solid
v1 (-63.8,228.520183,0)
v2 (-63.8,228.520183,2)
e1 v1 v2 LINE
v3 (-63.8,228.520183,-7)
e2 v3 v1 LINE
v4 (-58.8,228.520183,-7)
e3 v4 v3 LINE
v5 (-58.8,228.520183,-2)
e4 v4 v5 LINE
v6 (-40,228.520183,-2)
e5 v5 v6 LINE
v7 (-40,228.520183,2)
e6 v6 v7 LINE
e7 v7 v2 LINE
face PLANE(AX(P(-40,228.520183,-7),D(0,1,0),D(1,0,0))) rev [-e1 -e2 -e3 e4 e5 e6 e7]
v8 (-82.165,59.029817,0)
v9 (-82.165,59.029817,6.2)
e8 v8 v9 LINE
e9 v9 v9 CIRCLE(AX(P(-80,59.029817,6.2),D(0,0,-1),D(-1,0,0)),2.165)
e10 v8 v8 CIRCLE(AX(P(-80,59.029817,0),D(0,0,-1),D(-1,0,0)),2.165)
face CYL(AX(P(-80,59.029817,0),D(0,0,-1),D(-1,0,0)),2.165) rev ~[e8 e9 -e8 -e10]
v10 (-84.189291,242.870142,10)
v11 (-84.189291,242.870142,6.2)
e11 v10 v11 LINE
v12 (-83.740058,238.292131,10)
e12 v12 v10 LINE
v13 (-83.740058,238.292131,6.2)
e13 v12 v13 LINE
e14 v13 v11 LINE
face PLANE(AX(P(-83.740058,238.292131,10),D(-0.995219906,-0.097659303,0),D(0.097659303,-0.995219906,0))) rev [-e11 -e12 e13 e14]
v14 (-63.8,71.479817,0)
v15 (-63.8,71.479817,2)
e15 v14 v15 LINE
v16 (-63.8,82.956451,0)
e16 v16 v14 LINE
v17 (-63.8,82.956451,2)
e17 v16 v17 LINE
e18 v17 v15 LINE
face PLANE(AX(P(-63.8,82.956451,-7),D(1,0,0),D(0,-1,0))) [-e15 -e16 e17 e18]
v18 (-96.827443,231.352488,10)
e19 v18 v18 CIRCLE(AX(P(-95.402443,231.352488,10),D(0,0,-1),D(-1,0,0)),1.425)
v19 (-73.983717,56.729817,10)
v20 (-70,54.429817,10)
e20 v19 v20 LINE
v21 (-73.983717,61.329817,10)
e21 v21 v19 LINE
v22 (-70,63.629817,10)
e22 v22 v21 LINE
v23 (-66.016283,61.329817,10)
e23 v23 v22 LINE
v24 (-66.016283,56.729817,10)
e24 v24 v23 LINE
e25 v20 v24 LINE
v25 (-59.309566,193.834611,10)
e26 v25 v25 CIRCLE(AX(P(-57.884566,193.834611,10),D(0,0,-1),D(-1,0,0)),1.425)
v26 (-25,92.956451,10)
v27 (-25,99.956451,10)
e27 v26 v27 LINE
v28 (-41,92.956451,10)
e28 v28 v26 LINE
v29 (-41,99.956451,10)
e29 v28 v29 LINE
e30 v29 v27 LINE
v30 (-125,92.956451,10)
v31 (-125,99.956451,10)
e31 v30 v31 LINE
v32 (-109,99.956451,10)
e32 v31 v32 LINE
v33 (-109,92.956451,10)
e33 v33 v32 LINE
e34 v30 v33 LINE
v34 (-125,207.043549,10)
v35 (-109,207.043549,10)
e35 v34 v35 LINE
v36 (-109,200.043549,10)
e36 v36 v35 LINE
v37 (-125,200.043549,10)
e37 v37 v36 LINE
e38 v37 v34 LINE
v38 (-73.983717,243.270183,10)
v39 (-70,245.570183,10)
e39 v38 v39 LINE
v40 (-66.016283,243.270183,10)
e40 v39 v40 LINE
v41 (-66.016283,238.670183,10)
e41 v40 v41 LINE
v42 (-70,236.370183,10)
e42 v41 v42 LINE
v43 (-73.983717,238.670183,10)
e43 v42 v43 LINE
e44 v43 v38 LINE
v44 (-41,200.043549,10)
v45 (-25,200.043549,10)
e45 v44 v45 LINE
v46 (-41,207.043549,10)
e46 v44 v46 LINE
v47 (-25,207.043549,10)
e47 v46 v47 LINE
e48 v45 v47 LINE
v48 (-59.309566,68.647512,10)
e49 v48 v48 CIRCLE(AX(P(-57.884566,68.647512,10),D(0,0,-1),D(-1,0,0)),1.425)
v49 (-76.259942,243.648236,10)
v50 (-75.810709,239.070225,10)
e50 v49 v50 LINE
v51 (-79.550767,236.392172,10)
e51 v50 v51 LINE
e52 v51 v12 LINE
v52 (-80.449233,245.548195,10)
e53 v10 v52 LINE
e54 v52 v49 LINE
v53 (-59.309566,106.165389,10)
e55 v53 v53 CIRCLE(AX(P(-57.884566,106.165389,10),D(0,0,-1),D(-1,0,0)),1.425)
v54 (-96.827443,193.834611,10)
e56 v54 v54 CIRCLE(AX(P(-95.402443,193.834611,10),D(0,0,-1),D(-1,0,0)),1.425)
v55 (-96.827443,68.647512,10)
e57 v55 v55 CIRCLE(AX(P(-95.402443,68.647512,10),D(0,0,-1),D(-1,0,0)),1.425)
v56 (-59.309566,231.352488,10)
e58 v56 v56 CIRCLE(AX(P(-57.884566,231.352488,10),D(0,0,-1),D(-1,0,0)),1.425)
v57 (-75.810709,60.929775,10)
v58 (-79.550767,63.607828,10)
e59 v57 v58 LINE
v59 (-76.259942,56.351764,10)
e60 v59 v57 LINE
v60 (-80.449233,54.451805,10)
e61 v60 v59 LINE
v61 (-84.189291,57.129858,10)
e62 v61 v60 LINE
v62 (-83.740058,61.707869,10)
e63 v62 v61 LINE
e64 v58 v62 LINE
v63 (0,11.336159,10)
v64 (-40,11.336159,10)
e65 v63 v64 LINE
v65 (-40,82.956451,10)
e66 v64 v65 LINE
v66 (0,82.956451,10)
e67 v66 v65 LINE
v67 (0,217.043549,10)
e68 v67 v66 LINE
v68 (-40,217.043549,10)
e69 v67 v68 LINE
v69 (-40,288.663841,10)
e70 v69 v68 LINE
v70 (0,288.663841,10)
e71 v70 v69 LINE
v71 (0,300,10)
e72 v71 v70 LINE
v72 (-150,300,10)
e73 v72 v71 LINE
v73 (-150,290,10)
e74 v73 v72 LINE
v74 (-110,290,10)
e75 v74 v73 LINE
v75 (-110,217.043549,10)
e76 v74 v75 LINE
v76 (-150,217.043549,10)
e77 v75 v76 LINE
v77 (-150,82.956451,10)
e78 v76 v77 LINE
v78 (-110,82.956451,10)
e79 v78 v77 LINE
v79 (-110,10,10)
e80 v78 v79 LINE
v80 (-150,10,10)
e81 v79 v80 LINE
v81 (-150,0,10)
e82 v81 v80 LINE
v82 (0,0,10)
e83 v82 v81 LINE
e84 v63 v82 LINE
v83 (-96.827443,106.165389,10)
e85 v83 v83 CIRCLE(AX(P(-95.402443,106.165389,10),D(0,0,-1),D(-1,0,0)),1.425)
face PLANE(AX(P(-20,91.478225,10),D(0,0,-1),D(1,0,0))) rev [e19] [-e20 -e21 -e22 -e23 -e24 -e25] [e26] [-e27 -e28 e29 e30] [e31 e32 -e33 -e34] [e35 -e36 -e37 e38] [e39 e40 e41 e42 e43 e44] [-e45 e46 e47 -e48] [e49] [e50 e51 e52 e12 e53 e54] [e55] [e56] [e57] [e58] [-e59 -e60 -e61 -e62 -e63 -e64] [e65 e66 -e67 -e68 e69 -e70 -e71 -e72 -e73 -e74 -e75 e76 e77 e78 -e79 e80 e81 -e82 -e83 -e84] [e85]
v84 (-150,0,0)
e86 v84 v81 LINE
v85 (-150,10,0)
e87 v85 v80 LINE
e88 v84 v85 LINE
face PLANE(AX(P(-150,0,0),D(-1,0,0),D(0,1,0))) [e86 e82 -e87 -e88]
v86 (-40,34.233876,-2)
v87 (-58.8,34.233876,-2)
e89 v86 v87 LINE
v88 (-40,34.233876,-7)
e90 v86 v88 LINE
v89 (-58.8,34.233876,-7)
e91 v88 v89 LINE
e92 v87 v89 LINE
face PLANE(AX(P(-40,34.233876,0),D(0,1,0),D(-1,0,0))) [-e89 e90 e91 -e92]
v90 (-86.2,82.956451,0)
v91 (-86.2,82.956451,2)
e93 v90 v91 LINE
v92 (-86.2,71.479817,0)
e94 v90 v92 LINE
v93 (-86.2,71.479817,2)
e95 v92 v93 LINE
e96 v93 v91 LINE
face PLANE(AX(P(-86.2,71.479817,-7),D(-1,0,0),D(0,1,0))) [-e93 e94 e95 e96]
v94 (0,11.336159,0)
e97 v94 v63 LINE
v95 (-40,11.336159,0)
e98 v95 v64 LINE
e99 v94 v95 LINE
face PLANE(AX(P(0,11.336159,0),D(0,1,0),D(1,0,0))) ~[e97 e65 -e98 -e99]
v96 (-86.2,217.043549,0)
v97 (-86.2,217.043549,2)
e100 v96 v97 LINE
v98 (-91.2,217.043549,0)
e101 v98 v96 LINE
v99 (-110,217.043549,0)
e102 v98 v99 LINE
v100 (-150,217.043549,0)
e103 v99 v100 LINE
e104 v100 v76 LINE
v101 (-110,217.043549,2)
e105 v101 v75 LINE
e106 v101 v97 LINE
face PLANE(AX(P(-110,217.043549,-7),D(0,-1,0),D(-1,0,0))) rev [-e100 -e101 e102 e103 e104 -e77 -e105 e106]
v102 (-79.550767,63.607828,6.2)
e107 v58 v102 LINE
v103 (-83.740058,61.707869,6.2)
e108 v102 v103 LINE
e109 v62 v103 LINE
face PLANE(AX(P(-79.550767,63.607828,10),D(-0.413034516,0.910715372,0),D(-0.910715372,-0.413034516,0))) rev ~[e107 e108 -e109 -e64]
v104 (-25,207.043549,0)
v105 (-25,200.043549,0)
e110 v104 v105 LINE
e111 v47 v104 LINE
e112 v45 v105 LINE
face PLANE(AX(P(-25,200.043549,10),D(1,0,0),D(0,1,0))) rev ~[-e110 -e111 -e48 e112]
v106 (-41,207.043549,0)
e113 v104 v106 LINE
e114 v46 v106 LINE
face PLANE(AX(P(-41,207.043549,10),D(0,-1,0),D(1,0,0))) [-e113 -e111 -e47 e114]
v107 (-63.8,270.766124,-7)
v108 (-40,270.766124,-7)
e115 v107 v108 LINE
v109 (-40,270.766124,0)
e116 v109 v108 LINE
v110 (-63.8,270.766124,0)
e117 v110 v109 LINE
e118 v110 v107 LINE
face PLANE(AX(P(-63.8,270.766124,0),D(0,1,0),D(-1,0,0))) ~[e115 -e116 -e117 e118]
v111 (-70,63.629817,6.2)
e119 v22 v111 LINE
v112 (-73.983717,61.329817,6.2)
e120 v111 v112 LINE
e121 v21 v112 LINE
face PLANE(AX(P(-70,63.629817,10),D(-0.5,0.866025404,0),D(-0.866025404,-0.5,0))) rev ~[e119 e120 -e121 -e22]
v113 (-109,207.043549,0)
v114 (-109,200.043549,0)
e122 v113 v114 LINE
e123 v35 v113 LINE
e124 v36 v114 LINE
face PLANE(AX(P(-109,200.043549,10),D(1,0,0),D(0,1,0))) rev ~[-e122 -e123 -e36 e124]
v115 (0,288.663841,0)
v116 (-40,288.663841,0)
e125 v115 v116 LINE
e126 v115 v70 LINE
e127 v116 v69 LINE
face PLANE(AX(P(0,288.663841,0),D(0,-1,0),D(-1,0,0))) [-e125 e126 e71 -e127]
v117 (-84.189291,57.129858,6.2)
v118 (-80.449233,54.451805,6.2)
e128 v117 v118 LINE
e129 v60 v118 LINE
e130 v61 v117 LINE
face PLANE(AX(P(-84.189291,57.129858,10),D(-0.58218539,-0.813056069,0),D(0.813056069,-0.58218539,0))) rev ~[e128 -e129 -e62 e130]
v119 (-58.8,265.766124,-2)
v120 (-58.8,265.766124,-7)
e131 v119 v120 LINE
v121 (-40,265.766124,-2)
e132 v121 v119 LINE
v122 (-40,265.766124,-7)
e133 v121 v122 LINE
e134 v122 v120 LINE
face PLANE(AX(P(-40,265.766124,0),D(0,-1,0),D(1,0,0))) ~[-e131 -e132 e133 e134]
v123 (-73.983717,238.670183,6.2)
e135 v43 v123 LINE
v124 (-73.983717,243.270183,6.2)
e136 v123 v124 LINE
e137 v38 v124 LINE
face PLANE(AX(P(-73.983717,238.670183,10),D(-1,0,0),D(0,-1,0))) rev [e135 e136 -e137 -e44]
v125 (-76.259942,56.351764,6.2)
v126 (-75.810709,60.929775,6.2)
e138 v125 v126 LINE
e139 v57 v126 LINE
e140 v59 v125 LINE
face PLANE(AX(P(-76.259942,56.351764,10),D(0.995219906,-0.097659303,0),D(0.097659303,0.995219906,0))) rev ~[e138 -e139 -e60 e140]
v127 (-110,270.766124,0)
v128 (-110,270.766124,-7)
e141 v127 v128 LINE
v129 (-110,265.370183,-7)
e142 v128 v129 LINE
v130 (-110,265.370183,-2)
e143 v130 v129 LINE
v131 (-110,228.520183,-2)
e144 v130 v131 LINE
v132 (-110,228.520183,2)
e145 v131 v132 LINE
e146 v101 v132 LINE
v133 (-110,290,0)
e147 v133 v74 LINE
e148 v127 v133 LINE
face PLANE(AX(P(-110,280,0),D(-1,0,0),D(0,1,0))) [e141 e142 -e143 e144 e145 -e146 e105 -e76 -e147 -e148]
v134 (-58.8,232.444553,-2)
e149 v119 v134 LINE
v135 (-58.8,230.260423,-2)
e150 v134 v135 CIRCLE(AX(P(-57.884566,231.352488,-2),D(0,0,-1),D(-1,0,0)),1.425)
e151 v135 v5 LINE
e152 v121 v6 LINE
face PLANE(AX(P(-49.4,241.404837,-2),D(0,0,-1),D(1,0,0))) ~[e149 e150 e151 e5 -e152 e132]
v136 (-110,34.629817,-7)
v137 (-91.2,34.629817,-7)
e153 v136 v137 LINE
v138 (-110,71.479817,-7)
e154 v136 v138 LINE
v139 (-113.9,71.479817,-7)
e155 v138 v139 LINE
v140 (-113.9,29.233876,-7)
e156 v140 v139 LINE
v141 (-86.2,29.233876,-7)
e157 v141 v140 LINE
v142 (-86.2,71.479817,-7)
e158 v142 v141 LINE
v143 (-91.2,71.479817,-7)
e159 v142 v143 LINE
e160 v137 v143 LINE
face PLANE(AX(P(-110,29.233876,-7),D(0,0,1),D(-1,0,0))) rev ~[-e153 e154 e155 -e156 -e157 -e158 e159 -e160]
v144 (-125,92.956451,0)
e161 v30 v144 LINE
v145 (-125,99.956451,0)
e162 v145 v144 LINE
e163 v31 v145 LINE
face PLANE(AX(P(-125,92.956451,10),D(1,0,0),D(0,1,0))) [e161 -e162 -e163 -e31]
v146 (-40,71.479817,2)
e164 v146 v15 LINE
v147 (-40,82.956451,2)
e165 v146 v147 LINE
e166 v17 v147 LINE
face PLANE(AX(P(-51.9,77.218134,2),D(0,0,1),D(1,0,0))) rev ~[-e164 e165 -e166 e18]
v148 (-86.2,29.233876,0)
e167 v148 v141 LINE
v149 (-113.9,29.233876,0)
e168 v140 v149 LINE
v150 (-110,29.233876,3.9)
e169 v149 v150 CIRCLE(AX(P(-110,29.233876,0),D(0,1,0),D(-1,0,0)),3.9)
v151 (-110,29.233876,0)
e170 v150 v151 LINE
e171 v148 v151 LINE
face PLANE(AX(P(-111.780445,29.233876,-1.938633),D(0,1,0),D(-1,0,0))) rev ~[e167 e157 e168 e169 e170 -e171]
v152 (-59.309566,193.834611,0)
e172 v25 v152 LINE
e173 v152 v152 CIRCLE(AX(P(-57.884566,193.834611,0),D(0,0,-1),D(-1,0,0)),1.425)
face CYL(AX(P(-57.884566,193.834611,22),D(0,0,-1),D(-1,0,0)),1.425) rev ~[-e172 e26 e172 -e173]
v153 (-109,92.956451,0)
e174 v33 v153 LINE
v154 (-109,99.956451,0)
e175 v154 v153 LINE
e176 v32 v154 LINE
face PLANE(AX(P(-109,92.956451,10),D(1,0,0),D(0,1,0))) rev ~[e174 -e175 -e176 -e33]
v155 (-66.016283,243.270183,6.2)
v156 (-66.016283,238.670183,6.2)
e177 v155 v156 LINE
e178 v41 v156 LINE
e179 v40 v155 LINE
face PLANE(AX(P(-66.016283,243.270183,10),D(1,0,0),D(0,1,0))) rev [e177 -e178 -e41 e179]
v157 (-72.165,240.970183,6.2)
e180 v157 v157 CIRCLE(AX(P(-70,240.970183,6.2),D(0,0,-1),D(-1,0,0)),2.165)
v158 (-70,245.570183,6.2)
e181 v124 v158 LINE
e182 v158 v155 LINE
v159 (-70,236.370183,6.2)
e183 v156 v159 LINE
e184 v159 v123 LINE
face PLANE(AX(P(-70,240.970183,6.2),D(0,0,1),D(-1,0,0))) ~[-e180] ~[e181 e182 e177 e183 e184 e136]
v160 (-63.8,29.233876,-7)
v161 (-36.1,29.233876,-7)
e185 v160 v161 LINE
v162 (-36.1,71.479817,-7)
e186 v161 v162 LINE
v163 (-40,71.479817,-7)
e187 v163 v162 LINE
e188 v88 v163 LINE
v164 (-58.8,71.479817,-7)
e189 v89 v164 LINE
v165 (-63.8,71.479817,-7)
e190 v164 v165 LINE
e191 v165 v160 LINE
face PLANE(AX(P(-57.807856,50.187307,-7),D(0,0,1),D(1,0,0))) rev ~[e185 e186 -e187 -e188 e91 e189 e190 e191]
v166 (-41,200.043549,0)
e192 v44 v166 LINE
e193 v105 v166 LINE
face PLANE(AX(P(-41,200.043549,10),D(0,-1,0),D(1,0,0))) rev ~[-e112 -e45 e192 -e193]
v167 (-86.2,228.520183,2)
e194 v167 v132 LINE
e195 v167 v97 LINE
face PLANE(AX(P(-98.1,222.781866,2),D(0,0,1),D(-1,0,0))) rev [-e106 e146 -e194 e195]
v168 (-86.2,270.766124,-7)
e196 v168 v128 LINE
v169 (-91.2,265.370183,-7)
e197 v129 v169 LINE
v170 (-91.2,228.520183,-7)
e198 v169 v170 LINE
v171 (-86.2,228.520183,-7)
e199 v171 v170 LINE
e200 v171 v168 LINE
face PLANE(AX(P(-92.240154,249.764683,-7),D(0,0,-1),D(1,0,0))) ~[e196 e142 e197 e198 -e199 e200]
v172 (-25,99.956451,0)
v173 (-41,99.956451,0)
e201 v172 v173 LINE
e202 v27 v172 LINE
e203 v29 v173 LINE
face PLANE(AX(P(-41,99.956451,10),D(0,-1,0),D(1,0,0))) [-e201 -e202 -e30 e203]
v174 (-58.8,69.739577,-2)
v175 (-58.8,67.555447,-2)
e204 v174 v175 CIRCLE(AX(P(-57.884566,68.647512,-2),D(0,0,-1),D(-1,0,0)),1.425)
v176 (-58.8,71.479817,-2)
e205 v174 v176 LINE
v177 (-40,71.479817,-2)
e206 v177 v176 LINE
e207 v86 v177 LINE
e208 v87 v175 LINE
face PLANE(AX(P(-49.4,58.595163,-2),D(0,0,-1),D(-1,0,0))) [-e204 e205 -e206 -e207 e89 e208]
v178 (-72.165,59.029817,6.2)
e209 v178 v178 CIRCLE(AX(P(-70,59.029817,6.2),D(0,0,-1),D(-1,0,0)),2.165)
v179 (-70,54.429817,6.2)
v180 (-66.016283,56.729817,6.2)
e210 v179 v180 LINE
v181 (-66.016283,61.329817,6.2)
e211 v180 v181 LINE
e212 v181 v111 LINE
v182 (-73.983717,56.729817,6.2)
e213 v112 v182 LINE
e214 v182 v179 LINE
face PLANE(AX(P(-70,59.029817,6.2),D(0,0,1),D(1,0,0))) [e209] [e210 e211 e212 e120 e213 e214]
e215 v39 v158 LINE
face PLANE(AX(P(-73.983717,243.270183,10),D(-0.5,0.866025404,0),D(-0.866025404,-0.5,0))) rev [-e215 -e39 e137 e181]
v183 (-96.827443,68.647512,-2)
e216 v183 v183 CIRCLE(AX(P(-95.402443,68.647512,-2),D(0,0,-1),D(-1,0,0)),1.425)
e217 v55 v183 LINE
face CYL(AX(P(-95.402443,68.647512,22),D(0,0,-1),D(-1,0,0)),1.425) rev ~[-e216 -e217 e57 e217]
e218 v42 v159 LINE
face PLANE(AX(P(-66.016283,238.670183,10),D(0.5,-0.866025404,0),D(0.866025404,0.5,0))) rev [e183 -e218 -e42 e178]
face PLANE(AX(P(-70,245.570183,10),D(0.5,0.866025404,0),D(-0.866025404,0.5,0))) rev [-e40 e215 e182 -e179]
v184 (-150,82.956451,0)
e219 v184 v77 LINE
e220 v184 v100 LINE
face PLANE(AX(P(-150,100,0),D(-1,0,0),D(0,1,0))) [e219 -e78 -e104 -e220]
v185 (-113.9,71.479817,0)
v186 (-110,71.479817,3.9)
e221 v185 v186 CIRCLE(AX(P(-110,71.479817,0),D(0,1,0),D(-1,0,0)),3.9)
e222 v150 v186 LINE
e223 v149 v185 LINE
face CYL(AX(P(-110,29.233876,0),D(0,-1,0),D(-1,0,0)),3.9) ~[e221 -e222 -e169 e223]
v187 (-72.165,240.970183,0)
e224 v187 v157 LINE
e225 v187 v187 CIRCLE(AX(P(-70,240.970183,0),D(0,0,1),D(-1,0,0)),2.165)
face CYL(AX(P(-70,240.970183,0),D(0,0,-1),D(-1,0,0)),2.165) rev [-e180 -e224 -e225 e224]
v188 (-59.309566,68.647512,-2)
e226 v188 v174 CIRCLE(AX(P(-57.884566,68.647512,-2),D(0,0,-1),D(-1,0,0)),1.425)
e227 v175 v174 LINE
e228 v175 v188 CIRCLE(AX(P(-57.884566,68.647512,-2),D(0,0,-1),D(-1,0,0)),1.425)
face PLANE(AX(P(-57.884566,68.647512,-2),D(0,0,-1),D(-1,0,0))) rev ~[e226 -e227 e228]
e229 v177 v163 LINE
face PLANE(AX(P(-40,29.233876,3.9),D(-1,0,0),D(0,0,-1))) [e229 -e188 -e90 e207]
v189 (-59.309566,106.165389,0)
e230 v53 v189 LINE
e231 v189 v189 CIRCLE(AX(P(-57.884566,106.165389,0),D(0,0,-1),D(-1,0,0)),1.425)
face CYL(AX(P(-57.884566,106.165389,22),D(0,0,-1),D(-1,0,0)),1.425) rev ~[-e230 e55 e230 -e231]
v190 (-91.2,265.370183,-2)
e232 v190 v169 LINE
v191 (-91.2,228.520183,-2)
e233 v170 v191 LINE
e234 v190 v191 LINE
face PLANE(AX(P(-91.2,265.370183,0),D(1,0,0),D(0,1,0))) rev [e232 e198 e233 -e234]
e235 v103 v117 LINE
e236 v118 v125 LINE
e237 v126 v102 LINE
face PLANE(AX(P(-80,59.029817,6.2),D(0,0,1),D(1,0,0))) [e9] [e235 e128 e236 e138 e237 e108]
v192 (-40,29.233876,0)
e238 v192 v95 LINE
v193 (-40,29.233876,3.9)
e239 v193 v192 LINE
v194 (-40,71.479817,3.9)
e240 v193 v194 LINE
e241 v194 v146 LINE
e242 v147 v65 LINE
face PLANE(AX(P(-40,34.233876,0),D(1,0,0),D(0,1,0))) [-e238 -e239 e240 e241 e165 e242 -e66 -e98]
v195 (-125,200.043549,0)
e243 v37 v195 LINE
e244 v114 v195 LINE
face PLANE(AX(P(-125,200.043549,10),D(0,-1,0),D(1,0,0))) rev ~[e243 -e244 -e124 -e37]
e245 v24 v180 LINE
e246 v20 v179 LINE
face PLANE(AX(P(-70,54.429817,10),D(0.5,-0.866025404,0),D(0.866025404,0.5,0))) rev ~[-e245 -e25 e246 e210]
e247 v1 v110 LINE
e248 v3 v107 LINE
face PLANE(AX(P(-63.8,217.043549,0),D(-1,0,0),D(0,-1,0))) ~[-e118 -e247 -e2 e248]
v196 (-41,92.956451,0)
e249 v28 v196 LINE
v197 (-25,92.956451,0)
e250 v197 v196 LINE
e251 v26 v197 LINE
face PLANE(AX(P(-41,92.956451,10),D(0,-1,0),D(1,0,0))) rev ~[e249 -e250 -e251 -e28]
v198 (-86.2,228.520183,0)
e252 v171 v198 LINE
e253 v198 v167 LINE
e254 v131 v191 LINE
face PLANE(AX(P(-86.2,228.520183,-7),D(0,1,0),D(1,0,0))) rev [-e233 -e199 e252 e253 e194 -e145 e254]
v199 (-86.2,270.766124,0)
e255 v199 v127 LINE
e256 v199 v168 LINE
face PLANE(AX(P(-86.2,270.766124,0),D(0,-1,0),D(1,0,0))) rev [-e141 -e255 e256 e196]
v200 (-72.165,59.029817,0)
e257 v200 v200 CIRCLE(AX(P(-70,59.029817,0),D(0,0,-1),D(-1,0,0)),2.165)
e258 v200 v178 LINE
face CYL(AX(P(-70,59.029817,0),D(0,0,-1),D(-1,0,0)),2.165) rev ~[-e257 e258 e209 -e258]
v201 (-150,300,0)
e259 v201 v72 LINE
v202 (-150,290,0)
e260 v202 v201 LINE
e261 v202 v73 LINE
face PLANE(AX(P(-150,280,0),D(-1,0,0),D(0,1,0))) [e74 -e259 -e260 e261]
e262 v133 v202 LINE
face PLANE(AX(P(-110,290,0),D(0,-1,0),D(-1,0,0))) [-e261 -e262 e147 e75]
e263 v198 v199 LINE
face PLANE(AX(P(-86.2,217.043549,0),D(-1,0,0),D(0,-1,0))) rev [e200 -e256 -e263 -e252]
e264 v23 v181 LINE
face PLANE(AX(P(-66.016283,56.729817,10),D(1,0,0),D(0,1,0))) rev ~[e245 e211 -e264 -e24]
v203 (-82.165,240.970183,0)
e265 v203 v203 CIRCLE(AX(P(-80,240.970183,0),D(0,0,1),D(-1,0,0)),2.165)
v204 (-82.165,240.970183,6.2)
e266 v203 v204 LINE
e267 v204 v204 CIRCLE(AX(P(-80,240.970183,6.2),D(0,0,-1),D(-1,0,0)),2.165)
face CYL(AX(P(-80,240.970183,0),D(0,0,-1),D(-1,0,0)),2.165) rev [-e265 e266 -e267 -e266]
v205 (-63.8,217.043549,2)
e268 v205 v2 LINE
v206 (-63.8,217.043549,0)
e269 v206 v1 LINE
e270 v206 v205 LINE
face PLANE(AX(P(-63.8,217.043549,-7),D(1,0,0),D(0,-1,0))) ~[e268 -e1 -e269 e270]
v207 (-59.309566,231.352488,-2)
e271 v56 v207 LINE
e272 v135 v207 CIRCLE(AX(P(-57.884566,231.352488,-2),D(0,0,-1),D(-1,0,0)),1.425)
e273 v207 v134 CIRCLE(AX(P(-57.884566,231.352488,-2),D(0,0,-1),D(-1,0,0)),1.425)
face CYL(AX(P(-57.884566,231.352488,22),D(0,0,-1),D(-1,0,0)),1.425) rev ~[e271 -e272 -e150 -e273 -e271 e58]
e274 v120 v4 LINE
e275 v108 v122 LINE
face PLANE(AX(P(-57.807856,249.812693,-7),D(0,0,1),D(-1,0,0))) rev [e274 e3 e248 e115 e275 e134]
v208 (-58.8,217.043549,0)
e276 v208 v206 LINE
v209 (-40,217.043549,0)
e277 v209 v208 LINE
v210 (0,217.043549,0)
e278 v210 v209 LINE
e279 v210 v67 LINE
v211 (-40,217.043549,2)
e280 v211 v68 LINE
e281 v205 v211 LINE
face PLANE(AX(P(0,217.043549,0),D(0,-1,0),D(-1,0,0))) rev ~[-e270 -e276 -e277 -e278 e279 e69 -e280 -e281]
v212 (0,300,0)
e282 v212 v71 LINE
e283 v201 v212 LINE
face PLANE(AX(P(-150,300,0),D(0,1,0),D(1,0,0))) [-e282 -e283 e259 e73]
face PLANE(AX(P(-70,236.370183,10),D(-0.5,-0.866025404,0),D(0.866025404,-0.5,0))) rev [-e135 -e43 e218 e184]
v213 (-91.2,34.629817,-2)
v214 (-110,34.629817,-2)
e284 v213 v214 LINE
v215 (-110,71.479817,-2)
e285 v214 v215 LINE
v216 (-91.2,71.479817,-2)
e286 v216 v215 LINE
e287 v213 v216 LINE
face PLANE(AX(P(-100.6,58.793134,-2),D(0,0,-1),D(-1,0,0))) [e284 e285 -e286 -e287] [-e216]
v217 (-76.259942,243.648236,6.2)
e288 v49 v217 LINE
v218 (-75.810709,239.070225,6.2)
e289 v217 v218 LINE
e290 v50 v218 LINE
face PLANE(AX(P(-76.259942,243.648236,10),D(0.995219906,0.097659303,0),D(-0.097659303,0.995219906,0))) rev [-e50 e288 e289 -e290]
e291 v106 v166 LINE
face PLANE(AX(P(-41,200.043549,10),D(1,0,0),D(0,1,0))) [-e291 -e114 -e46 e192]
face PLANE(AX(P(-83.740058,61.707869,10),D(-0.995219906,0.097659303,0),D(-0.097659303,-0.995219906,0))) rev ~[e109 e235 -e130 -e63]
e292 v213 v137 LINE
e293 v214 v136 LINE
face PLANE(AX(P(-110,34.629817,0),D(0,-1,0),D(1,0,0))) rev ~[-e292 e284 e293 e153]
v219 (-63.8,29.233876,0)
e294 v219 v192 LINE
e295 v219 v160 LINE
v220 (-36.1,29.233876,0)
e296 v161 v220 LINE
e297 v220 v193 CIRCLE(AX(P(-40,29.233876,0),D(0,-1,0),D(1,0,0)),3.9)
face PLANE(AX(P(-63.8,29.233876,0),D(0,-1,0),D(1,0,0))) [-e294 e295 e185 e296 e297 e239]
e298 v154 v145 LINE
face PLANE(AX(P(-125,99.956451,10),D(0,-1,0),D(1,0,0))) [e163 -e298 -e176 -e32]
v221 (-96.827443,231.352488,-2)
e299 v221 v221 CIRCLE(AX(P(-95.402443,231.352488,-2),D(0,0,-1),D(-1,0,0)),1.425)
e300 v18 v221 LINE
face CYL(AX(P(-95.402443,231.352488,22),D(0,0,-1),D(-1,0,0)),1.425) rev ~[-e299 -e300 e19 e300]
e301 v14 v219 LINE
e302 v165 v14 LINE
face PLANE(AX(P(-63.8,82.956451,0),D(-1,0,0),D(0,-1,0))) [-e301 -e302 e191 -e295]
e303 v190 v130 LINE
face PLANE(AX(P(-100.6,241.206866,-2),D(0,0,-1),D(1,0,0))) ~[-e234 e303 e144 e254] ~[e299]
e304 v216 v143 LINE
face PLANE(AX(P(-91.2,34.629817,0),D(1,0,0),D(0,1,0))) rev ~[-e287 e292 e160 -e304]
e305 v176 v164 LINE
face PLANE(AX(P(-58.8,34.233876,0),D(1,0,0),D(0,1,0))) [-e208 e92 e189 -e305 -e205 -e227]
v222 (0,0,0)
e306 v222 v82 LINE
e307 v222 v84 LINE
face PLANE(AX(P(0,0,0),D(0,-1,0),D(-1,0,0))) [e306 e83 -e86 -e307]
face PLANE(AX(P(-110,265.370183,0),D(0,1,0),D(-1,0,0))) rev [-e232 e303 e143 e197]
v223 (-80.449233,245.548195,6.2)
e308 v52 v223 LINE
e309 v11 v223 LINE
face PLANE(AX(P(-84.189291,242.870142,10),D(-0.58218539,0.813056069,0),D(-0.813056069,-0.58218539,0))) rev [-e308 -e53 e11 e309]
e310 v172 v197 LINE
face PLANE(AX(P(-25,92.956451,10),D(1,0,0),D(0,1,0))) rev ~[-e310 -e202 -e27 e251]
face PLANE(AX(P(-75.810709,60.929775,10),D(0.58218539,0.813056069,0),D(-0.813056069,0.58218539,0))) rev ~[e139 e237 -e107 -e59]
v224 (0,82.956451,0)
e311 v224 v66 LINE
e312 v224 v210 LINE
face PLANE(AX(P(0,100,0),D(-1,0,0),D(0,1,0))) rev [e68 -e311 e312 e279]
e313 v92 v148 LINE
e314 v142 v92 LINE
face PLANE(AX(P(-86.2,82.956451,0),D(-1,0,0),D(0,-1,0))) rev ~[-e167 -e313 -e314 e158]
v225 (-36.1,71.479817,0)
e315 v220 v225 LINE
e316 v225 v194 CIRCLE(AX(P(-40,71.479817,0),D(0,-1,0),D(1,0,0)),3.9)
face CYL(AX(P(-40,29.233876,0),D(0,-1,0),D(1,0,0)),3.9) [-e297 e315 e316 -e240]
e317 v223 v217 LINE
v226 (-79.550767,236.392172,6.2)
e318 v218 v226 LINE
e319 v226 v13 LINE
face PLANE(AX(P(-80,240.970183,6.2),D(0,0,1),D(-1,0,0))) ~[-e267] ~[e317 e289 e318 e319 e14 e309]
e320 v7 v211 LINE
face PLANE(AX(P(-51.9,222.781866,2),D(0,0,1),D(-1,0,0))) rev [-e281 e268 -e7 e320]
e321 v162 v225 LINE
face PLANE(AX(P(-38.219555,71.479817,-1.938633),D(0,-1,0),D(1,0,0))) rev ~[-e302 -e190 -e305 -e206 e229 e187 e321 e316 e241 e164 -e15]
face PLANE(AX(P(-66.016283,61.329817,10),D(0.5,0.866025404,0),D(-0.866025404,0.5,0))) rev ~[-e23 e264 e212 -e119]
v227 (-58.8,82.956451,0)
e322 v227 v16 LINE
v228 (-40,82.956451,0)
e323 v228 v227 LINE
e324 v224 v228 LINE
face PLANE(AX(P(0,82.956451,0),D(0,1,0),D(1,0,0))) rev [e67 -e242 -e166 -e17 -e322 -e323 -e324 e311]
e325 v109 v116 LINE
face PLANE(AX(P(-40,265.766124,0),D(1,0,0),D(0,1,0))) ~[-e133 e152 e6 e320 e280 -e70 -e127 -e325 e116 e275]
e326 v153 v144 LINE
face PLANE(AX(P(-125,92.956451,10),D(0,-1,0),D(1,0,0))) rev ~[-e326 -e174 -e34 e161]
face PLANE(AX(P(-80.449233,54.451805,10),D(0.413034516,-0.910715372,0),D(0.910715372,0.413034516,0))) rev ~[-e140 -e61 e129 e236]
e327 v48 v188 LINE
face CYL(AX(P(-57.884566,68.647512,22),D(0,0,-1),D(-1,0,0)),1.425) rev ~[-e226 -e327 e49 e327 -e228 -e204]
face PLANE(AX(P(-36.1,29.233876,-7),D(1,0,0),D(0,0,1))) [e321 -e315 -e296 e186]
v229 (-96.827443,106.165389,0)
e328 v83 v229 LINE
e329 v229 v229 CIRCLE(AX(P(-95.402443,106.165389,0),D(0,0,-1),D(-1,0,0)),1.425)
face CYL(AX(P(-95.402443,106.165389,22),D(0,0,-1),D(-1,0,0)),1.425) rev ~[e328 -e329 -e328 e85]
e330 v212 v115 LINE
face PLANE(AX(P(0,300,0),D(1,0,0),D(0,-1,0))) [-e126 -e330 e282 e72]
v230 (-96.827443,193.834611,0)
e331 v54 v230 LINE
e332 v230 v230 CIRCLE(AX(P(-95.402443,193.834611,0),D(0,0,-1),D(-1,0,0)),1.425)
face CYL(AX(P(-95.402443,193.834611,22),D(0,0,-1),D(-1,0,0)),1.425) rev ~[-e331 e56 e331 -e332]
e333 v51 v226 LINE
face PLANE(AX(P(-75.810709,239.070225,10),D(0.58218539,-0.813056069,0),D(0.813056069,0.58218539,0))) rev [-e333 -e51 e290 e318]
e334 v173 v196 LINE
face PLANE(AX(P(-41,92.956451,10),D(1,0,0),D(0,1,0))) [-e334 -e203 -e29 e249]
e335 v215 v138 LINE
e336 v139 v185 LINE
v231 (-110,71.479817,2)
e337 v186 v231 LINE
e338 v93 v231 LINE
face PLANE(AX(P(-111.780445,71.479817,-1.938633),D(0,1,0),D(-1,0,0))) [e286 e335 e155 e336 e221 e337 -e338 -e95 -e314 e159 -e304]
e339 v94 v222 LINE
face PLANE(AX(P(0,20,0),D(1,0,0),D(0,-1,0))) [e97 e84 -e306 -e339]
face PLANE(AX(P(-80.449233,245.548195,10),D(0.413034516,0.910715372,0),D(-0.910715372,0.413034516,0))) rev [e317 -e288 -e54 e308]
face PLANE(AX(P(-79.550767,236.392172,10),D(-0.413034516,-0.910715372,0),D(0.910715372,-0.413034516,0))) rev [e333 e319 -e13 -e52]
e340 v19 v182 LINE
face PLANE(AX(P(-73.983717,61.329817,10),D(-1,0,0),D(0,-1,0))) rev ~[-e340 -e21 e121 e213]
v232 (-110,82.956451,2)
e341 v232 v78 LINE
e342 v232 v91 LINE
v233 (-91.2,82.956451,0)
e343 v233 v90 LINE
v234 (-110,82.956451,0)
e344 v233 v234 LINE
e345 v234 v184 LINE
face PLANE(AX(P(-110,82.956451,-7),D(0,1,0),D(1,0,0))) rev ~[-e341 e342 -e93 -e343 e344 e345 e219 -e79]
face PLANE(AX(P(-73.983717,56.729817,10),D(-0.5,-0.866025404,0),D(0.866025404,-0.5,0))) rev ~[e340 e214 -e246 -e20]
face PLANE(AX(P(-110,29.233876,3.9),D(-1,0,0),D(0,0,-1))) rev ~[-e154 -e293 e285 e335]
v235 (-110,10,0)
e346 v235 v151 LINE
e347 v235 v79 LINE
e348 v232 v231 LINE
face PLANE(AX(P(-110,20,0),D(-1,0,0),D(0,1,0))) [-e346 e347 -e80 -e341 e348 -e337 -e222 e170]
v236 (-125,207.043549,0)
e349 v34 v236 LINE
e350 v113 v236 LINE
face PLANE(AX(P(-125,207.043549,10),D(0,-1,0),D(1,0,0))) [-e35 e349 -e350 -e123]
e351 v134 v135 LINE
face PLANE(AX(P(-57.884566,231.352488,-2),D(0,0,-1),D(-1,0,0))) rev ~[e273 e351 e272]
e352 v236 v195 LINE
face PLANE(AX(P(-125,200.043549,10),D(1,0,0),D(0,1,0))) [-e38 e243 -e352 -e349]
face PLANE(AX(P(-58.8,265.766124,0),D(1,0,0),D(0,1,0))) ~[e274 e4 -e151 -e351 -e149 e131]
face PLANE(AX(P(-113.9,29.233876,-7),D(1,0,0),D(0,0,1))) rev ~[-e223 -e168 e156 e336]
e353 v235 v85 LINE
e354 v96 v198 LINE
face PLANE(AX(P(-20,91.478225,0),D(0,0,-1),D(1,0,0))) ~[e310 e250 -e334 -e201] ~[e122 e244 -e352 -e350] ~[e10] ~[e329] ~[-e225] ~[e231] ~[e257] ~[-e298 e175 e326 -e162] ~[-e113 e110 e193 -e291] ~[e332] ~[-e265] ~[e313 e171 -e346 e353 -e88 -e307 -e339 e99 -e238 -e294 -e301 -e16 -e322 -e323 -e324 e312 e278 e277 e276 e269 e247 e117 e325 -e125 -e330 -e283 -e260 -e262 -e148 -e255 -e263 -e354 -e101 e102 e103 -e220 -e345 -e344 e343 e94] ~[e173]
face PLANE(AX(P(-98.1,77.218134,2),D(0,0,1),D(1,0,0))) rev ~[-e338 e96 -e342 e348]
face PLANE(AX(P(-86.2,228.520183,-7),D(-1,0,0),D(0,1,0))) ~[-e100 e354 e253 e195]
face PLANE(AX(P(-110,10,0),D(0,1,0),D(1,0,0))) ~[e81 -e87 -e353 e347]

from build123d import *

# Parameters (mm, degrees)
BOSS_EXTRUDE1_DEPTH       = 10
BOSS_EXTRUDE3_DEPTH       = 7
SKETCH4_W                 = 18.8
SKETCH4_H                 = 48.722574615
SKETCH4_H_2               = 48.326634129
BOSS_EXTRUDE4_DEPTH       = 2
CUT_EXTRUDE2_DEPTH        = 9
SKETCH7_R                 = 2.165
CUT_EXTRUDE3_DEPTH        = 336.559234711
CUT_EXTRUDE4_DEPTH        = 3.8
BOSS_EXTRUDE5_DEPTH       = 42.245940515
SKETCH10_W                = 40
SKETCH10_H                = 8.663840555
SKETCH10_H_2              = 10
CUT_EXTRUDE5_DEPTH        = 336.559234711
SKETCH11_W                = 40
SKETCH11_H                = 17.043549312
BOSS_EXTRUDE6_DEPTH       = 10
CUT_EXTRUDE6_REACH        = 337.841
SKETCH12_W                = 16
SKETCH12_H                = 7
F_1_5MM_DOWEL_HOLE1_D     = 2.85
F_1_5MM_DOWEL_HOLE1_DEPTH = 12


with BuildPart() as part:
    # Sketch2 → Boss-Extrude1 (new body)
    with BuildSketch(Plane.XY):
        Polygon((0, 0), (-150, 0), (-150, 20), (-110, 20), (-110, 100), (-150, 100), (-150, 200), (-110, 200), (-110, 280), (-150, 280), (-150, 300), (0, 300), (0, 280), (-40, 280), (-40, 200), (0, 200), (0, 100), (-40, 100), (-40, 20), (0, 20), align=None)
    extrude(amount=BOSS_EXTRUDE1_DEPTH)

    # Sketch3 → Boss-Extrude3 (add)
    with BuildSketch(Plane(origin=(0, 0, 0), x_dir=(-1, 0, 0), z_dir=(0, 0, -1))):
        Polygon((40, 34.233876073), (58.8, 34.233876073), (58.8, 82.956450688), (63.8, 82.956450688), (63.8, 29.233876073), (40, 29.233876073), align=None)
        Polygon((110, 34.629816559), (91.2, 34.629816559), (91.2, 82.956450688), (86.2, 82.956450688), (86.2, 29.233876073), (110, 29.233876073), align=None)
    boss_extrude3 = extrude(amount=BOSS_EXTRUDE3_DEPTH)

    # Sketch4 → Boss-Extrude4 (add)
    with BuildSketch(Plane(origin=(0, 0, 0), x_dir=(-1, 0, 0), z_dir=(0, 0, -1))):
        with Locations((49.4, 58.595163381)):
            Rectangle(SKETCH4_W, SKETCH4_H)
        with Locations((100.6, 58.793133624)):
            Rectangle(SKETCH4_W, SKETCH4_H_2)
    boss_extrude4 = extrude(amount=BOSS_EXTRUDE4_DEPTH)

    # Sketch6 → Cut-Extrude2 (cut)
    with BuildSketch(Plane(origin=(0, 0, -7), x_dir=(-1, 0, 0), z_dir=(0, 0, -1))):
        Polygon((40, 82.956450688), (55.172474276, 82.956450688), (63.8, 82.956450688), (63.8, 71.479816588), (58.8, 71.479816588), (40, 71.479816588), align=None)
        Polygon((91.2, 82.956450688), (110, 82.956450688), (110, 71.479816588), (95.490694749, 71.479816588), (86.2, 71.479816588), (86.2, 82.956450688), align=None)
    cut_extrude2 = extrude(amount=-CUT_EXTRUDE2_DEPTH, mode=Mode.SUBTRACT)

    # Sketch7 → Cut-Extrude3 (cut, through all)
    with BuildSketch(Plane(origin=(0, 0, 0), x_dir=(-1, 0, 0), z_dir=(0, 0, -1))):
        with Locations((70, 59.0298166)):
            Circle(SKETCH7_R)
        with Locations((80, 59.0298166)):
            Circle(SKETCH7_R)
    cut_extrude3 = extrude(amount=-CUT_EXTRUDE3_DEPTH, mode=Mode.SUBTRACT)

    # Sketch8 → Cut-Extrude4 (cut)
    with BuildSketch(Plane.XY.offset(10)):
        Polygon((-83.740057918, 61.707869394), (-84.189290711, 57.129857828), (-80.449232793, 54.451805034), (-76.259942082, 56.351763806), (-75.810709289, 60.929775372), (-79.550767207, 63.607828166), align=None)
        Polygon((-70, 63.6298166), (-73.983716857, 61.3298166), (-73.983716857, 56.7298166), (-70, 54.4298166), (-66.016283143, 56.7298166), (-66.016283143, 61.3298166), align=None)
    cut_extrude4 = extrude(amount=-CUT_EXTRUDE4_DEPTH, mode=Mode.SUBTRACT)

    # Sketch9 → Boss-Extrude5 (add)
    with BuildSketch(Plane.XZ.offset(-29.233876073)):
        with BuildLine():
            Line((-110, -7), (-113.9, -7))
            Line((-113.9, -7), (-113.9, 0))
            ThreePointArc((-113.9, 0), (-112.757716447, 2.757716447), (-110, 3.9))
            Line((-110, 3.9), (-110, 0))
            Line((-110, 0), (-110, -7))
        make_face()
        with BuildLine():
            Line((-40, -7), (-36.1, -7))
            Line((-36.1, -7), (-36.1, 0))
            ThreePointArc((-36.1, 0), (-37.242283553, 2.757716447), (-40, 3.9))
            Line((-40, 3.9), (-40, 0))
            Line((-40, 0), (-40, -7))
        make_face()
    extrude(amount=-BOSS_EXTRUDE5_DEPTH)

    # Mirror2: Boss-Extrude3, Boss-Extrude4, Cut-Extrude2 across plane
    add(boss_extrude3.mirror(Plane.ZX.offset(150)))
    add(boss_extrude4.mirror(Plane.ZX.offset(150)))
    add(cut_extrude2.mirror(Plane.ZX.offset(150)), mode=Mode.SUBTRACT)

    # Mirror3: Cut-Extrude3 across plane
    add(cut_extrude3.mirror(Plane.ZX.offset(150)), mode=Mode.SUBTRACT)

    # Mirror4: Cut-Extrude4 across plane
    add(cut_extrude4.mirror(Plane.ZX.offset(150)), mode=Mode.SUBTRACT)

    # Sketch10 → Cut-Extrude5 (cut, through all)
    with BuildSketch(Plane(origin=(0, 0, 0), x_dir=(-1, 0, 0), z_dir=(0, 0, -1))):
        with Locations((20, 284.331920277)):
            Rectangle(SKETCH10_W, SKETCH10_H)
        with Locations((130, 285)):
            Rectangle(SKETCH10_W, SKETCH10_H_2)
    cut_extrude5 = extrude(amount=-CUT_EXTRUDE5_DEPTH, mode=Mode.SUBTRACT)

    # Mirror5: Cut-Extrude5 across plane
    add(cut_extrude5.mirror(Plane.ZX.offset(150)), mode=Mode.SUBTRACT)

    # Sketch11 → Boss-Extrude6 (add, through all)
    with BuildSketch(Plane(origin=(0, 0, 0), x_dir=(-1, 0, 0), z_dir=(0, 0, -1))):
        with Locations((20, 208.521774656)):
            Rectangle(SKETCH11_W, SKETCH11_H)
        with Locations((130, 208.521774656)):
            Rectangle(SKETCH11_W, SKETCH11_H)
    boss_extrude6 = extrude(amount=-BOSS_EXTRUDE6_DEPTH)

    # Mirror6: Boss-Extrude6 across plane
    add(boss_extrude6.mirror(Plane.ZX.offset(150)))

    # Sketch12 → Cut-Extrude6 (cut, up to next)
    with BuildSketch(Plane.XY.offset(10), mode=Mode.PRIVATE) as cut_extrude6_sk1:
        with Locations((-117, 203.543549312)):
            Rectangle(SKETCH12_W, SKETCH12_H)
    cut_extrude6_tool1 = extrude(cut_extrude6_sk1.sketch, amount=-CUT_EXTRUDE6_REACH, mode=Mode.PRIVATE) & part.part
    # Sketch12 → Cut-Extrude6 (cut, up to next)
    with BuildSketch(Plane.XY.offset(10), mode=Mode.PRIVATE) as cut_extrude6_sk2:
        with Locations((-33, 203.543549312)):
            Rectangle(SKETCH12_W, SKETCH12_H)
    cut_extrude6_tool2 = extrude(cut_extrude6_sk2.sketch, amount=-CUT_EXTRUDE6_REACH, mode=Mode.PRIVATE) & part.part
    # Sketch12 → Cut-Extrude6 (cut, up to next)
    with BuildSketch(Plane.XY.offset(10), mode=Mode.PRIVATE) as cut_extrude6_sk3:
        with Locations((-117, 96.456450688)):
            Rectangle(SKETCH12_W, SKETCH12_H)
    cut_extrude6_tool3 = extrude(cut_extrude6_sk3.sketch, amount=-CUT_EXTRUDE6_REACH, mode=Mode.PRIVATE) & part.part
    # Sketch12 → Cut-Extrude6 (cut, up to next)
    with BuildSketch(Plane.XY.offset(10), mode=Mode.PRIVATE) as cut_extrude6_sk4:
        with Locations((-33, 96.456450688)):
            Rectangle(SKETCH12_W, SKETCH12_H)
    cut_extrude6_tool4 = extrude(cut_extrude6_sk4.sketch, amount=-CUT_EXTRUDE6_REACH, mode=Mode.PRIVATE) & part.part
    add(cut_extrude6_tool1.solids().sort_by_distance((-117, 203.543549, 10))[0], mode=Mode.SUBTRACT)
    add(cut_extrude6_tool2.solids().sort_by_distance((-33, 203.543549, 10))[0], mode=Mode.SUBTRACT)
    add(cut_extrude6_tool3.solids().sort_by_distance((-117, 96.456451, 10))[0], mode=Mode.SUBTRACT)
    add(cut_extrude6_tool4.solids().sort_by_distance((-33, 96.456451, 10))[0], mode=Mode.SUBTRACT)

    # Ø1.5mm Dowel Hole1
    with Locations(Plane.XY.offset(10)):
        with Locations((-57.884566311, 231.352487628), (-95.402442942, 231.352487628), (-95.402442942, 193.834610997), (-57.884566311, 193.834610997), (-95.402442942, 68.647512372), (-57.884566311, 106.165389003), (-57.884566311, 68.647512372), (-95.402442942, 106.165389003)):
            Hole(F_1_5MM_DOWEL_HOLE1_D / 2, depth=F_1_5MM_DOWEL_HOLE1_DEPTH)


solid = part.part
